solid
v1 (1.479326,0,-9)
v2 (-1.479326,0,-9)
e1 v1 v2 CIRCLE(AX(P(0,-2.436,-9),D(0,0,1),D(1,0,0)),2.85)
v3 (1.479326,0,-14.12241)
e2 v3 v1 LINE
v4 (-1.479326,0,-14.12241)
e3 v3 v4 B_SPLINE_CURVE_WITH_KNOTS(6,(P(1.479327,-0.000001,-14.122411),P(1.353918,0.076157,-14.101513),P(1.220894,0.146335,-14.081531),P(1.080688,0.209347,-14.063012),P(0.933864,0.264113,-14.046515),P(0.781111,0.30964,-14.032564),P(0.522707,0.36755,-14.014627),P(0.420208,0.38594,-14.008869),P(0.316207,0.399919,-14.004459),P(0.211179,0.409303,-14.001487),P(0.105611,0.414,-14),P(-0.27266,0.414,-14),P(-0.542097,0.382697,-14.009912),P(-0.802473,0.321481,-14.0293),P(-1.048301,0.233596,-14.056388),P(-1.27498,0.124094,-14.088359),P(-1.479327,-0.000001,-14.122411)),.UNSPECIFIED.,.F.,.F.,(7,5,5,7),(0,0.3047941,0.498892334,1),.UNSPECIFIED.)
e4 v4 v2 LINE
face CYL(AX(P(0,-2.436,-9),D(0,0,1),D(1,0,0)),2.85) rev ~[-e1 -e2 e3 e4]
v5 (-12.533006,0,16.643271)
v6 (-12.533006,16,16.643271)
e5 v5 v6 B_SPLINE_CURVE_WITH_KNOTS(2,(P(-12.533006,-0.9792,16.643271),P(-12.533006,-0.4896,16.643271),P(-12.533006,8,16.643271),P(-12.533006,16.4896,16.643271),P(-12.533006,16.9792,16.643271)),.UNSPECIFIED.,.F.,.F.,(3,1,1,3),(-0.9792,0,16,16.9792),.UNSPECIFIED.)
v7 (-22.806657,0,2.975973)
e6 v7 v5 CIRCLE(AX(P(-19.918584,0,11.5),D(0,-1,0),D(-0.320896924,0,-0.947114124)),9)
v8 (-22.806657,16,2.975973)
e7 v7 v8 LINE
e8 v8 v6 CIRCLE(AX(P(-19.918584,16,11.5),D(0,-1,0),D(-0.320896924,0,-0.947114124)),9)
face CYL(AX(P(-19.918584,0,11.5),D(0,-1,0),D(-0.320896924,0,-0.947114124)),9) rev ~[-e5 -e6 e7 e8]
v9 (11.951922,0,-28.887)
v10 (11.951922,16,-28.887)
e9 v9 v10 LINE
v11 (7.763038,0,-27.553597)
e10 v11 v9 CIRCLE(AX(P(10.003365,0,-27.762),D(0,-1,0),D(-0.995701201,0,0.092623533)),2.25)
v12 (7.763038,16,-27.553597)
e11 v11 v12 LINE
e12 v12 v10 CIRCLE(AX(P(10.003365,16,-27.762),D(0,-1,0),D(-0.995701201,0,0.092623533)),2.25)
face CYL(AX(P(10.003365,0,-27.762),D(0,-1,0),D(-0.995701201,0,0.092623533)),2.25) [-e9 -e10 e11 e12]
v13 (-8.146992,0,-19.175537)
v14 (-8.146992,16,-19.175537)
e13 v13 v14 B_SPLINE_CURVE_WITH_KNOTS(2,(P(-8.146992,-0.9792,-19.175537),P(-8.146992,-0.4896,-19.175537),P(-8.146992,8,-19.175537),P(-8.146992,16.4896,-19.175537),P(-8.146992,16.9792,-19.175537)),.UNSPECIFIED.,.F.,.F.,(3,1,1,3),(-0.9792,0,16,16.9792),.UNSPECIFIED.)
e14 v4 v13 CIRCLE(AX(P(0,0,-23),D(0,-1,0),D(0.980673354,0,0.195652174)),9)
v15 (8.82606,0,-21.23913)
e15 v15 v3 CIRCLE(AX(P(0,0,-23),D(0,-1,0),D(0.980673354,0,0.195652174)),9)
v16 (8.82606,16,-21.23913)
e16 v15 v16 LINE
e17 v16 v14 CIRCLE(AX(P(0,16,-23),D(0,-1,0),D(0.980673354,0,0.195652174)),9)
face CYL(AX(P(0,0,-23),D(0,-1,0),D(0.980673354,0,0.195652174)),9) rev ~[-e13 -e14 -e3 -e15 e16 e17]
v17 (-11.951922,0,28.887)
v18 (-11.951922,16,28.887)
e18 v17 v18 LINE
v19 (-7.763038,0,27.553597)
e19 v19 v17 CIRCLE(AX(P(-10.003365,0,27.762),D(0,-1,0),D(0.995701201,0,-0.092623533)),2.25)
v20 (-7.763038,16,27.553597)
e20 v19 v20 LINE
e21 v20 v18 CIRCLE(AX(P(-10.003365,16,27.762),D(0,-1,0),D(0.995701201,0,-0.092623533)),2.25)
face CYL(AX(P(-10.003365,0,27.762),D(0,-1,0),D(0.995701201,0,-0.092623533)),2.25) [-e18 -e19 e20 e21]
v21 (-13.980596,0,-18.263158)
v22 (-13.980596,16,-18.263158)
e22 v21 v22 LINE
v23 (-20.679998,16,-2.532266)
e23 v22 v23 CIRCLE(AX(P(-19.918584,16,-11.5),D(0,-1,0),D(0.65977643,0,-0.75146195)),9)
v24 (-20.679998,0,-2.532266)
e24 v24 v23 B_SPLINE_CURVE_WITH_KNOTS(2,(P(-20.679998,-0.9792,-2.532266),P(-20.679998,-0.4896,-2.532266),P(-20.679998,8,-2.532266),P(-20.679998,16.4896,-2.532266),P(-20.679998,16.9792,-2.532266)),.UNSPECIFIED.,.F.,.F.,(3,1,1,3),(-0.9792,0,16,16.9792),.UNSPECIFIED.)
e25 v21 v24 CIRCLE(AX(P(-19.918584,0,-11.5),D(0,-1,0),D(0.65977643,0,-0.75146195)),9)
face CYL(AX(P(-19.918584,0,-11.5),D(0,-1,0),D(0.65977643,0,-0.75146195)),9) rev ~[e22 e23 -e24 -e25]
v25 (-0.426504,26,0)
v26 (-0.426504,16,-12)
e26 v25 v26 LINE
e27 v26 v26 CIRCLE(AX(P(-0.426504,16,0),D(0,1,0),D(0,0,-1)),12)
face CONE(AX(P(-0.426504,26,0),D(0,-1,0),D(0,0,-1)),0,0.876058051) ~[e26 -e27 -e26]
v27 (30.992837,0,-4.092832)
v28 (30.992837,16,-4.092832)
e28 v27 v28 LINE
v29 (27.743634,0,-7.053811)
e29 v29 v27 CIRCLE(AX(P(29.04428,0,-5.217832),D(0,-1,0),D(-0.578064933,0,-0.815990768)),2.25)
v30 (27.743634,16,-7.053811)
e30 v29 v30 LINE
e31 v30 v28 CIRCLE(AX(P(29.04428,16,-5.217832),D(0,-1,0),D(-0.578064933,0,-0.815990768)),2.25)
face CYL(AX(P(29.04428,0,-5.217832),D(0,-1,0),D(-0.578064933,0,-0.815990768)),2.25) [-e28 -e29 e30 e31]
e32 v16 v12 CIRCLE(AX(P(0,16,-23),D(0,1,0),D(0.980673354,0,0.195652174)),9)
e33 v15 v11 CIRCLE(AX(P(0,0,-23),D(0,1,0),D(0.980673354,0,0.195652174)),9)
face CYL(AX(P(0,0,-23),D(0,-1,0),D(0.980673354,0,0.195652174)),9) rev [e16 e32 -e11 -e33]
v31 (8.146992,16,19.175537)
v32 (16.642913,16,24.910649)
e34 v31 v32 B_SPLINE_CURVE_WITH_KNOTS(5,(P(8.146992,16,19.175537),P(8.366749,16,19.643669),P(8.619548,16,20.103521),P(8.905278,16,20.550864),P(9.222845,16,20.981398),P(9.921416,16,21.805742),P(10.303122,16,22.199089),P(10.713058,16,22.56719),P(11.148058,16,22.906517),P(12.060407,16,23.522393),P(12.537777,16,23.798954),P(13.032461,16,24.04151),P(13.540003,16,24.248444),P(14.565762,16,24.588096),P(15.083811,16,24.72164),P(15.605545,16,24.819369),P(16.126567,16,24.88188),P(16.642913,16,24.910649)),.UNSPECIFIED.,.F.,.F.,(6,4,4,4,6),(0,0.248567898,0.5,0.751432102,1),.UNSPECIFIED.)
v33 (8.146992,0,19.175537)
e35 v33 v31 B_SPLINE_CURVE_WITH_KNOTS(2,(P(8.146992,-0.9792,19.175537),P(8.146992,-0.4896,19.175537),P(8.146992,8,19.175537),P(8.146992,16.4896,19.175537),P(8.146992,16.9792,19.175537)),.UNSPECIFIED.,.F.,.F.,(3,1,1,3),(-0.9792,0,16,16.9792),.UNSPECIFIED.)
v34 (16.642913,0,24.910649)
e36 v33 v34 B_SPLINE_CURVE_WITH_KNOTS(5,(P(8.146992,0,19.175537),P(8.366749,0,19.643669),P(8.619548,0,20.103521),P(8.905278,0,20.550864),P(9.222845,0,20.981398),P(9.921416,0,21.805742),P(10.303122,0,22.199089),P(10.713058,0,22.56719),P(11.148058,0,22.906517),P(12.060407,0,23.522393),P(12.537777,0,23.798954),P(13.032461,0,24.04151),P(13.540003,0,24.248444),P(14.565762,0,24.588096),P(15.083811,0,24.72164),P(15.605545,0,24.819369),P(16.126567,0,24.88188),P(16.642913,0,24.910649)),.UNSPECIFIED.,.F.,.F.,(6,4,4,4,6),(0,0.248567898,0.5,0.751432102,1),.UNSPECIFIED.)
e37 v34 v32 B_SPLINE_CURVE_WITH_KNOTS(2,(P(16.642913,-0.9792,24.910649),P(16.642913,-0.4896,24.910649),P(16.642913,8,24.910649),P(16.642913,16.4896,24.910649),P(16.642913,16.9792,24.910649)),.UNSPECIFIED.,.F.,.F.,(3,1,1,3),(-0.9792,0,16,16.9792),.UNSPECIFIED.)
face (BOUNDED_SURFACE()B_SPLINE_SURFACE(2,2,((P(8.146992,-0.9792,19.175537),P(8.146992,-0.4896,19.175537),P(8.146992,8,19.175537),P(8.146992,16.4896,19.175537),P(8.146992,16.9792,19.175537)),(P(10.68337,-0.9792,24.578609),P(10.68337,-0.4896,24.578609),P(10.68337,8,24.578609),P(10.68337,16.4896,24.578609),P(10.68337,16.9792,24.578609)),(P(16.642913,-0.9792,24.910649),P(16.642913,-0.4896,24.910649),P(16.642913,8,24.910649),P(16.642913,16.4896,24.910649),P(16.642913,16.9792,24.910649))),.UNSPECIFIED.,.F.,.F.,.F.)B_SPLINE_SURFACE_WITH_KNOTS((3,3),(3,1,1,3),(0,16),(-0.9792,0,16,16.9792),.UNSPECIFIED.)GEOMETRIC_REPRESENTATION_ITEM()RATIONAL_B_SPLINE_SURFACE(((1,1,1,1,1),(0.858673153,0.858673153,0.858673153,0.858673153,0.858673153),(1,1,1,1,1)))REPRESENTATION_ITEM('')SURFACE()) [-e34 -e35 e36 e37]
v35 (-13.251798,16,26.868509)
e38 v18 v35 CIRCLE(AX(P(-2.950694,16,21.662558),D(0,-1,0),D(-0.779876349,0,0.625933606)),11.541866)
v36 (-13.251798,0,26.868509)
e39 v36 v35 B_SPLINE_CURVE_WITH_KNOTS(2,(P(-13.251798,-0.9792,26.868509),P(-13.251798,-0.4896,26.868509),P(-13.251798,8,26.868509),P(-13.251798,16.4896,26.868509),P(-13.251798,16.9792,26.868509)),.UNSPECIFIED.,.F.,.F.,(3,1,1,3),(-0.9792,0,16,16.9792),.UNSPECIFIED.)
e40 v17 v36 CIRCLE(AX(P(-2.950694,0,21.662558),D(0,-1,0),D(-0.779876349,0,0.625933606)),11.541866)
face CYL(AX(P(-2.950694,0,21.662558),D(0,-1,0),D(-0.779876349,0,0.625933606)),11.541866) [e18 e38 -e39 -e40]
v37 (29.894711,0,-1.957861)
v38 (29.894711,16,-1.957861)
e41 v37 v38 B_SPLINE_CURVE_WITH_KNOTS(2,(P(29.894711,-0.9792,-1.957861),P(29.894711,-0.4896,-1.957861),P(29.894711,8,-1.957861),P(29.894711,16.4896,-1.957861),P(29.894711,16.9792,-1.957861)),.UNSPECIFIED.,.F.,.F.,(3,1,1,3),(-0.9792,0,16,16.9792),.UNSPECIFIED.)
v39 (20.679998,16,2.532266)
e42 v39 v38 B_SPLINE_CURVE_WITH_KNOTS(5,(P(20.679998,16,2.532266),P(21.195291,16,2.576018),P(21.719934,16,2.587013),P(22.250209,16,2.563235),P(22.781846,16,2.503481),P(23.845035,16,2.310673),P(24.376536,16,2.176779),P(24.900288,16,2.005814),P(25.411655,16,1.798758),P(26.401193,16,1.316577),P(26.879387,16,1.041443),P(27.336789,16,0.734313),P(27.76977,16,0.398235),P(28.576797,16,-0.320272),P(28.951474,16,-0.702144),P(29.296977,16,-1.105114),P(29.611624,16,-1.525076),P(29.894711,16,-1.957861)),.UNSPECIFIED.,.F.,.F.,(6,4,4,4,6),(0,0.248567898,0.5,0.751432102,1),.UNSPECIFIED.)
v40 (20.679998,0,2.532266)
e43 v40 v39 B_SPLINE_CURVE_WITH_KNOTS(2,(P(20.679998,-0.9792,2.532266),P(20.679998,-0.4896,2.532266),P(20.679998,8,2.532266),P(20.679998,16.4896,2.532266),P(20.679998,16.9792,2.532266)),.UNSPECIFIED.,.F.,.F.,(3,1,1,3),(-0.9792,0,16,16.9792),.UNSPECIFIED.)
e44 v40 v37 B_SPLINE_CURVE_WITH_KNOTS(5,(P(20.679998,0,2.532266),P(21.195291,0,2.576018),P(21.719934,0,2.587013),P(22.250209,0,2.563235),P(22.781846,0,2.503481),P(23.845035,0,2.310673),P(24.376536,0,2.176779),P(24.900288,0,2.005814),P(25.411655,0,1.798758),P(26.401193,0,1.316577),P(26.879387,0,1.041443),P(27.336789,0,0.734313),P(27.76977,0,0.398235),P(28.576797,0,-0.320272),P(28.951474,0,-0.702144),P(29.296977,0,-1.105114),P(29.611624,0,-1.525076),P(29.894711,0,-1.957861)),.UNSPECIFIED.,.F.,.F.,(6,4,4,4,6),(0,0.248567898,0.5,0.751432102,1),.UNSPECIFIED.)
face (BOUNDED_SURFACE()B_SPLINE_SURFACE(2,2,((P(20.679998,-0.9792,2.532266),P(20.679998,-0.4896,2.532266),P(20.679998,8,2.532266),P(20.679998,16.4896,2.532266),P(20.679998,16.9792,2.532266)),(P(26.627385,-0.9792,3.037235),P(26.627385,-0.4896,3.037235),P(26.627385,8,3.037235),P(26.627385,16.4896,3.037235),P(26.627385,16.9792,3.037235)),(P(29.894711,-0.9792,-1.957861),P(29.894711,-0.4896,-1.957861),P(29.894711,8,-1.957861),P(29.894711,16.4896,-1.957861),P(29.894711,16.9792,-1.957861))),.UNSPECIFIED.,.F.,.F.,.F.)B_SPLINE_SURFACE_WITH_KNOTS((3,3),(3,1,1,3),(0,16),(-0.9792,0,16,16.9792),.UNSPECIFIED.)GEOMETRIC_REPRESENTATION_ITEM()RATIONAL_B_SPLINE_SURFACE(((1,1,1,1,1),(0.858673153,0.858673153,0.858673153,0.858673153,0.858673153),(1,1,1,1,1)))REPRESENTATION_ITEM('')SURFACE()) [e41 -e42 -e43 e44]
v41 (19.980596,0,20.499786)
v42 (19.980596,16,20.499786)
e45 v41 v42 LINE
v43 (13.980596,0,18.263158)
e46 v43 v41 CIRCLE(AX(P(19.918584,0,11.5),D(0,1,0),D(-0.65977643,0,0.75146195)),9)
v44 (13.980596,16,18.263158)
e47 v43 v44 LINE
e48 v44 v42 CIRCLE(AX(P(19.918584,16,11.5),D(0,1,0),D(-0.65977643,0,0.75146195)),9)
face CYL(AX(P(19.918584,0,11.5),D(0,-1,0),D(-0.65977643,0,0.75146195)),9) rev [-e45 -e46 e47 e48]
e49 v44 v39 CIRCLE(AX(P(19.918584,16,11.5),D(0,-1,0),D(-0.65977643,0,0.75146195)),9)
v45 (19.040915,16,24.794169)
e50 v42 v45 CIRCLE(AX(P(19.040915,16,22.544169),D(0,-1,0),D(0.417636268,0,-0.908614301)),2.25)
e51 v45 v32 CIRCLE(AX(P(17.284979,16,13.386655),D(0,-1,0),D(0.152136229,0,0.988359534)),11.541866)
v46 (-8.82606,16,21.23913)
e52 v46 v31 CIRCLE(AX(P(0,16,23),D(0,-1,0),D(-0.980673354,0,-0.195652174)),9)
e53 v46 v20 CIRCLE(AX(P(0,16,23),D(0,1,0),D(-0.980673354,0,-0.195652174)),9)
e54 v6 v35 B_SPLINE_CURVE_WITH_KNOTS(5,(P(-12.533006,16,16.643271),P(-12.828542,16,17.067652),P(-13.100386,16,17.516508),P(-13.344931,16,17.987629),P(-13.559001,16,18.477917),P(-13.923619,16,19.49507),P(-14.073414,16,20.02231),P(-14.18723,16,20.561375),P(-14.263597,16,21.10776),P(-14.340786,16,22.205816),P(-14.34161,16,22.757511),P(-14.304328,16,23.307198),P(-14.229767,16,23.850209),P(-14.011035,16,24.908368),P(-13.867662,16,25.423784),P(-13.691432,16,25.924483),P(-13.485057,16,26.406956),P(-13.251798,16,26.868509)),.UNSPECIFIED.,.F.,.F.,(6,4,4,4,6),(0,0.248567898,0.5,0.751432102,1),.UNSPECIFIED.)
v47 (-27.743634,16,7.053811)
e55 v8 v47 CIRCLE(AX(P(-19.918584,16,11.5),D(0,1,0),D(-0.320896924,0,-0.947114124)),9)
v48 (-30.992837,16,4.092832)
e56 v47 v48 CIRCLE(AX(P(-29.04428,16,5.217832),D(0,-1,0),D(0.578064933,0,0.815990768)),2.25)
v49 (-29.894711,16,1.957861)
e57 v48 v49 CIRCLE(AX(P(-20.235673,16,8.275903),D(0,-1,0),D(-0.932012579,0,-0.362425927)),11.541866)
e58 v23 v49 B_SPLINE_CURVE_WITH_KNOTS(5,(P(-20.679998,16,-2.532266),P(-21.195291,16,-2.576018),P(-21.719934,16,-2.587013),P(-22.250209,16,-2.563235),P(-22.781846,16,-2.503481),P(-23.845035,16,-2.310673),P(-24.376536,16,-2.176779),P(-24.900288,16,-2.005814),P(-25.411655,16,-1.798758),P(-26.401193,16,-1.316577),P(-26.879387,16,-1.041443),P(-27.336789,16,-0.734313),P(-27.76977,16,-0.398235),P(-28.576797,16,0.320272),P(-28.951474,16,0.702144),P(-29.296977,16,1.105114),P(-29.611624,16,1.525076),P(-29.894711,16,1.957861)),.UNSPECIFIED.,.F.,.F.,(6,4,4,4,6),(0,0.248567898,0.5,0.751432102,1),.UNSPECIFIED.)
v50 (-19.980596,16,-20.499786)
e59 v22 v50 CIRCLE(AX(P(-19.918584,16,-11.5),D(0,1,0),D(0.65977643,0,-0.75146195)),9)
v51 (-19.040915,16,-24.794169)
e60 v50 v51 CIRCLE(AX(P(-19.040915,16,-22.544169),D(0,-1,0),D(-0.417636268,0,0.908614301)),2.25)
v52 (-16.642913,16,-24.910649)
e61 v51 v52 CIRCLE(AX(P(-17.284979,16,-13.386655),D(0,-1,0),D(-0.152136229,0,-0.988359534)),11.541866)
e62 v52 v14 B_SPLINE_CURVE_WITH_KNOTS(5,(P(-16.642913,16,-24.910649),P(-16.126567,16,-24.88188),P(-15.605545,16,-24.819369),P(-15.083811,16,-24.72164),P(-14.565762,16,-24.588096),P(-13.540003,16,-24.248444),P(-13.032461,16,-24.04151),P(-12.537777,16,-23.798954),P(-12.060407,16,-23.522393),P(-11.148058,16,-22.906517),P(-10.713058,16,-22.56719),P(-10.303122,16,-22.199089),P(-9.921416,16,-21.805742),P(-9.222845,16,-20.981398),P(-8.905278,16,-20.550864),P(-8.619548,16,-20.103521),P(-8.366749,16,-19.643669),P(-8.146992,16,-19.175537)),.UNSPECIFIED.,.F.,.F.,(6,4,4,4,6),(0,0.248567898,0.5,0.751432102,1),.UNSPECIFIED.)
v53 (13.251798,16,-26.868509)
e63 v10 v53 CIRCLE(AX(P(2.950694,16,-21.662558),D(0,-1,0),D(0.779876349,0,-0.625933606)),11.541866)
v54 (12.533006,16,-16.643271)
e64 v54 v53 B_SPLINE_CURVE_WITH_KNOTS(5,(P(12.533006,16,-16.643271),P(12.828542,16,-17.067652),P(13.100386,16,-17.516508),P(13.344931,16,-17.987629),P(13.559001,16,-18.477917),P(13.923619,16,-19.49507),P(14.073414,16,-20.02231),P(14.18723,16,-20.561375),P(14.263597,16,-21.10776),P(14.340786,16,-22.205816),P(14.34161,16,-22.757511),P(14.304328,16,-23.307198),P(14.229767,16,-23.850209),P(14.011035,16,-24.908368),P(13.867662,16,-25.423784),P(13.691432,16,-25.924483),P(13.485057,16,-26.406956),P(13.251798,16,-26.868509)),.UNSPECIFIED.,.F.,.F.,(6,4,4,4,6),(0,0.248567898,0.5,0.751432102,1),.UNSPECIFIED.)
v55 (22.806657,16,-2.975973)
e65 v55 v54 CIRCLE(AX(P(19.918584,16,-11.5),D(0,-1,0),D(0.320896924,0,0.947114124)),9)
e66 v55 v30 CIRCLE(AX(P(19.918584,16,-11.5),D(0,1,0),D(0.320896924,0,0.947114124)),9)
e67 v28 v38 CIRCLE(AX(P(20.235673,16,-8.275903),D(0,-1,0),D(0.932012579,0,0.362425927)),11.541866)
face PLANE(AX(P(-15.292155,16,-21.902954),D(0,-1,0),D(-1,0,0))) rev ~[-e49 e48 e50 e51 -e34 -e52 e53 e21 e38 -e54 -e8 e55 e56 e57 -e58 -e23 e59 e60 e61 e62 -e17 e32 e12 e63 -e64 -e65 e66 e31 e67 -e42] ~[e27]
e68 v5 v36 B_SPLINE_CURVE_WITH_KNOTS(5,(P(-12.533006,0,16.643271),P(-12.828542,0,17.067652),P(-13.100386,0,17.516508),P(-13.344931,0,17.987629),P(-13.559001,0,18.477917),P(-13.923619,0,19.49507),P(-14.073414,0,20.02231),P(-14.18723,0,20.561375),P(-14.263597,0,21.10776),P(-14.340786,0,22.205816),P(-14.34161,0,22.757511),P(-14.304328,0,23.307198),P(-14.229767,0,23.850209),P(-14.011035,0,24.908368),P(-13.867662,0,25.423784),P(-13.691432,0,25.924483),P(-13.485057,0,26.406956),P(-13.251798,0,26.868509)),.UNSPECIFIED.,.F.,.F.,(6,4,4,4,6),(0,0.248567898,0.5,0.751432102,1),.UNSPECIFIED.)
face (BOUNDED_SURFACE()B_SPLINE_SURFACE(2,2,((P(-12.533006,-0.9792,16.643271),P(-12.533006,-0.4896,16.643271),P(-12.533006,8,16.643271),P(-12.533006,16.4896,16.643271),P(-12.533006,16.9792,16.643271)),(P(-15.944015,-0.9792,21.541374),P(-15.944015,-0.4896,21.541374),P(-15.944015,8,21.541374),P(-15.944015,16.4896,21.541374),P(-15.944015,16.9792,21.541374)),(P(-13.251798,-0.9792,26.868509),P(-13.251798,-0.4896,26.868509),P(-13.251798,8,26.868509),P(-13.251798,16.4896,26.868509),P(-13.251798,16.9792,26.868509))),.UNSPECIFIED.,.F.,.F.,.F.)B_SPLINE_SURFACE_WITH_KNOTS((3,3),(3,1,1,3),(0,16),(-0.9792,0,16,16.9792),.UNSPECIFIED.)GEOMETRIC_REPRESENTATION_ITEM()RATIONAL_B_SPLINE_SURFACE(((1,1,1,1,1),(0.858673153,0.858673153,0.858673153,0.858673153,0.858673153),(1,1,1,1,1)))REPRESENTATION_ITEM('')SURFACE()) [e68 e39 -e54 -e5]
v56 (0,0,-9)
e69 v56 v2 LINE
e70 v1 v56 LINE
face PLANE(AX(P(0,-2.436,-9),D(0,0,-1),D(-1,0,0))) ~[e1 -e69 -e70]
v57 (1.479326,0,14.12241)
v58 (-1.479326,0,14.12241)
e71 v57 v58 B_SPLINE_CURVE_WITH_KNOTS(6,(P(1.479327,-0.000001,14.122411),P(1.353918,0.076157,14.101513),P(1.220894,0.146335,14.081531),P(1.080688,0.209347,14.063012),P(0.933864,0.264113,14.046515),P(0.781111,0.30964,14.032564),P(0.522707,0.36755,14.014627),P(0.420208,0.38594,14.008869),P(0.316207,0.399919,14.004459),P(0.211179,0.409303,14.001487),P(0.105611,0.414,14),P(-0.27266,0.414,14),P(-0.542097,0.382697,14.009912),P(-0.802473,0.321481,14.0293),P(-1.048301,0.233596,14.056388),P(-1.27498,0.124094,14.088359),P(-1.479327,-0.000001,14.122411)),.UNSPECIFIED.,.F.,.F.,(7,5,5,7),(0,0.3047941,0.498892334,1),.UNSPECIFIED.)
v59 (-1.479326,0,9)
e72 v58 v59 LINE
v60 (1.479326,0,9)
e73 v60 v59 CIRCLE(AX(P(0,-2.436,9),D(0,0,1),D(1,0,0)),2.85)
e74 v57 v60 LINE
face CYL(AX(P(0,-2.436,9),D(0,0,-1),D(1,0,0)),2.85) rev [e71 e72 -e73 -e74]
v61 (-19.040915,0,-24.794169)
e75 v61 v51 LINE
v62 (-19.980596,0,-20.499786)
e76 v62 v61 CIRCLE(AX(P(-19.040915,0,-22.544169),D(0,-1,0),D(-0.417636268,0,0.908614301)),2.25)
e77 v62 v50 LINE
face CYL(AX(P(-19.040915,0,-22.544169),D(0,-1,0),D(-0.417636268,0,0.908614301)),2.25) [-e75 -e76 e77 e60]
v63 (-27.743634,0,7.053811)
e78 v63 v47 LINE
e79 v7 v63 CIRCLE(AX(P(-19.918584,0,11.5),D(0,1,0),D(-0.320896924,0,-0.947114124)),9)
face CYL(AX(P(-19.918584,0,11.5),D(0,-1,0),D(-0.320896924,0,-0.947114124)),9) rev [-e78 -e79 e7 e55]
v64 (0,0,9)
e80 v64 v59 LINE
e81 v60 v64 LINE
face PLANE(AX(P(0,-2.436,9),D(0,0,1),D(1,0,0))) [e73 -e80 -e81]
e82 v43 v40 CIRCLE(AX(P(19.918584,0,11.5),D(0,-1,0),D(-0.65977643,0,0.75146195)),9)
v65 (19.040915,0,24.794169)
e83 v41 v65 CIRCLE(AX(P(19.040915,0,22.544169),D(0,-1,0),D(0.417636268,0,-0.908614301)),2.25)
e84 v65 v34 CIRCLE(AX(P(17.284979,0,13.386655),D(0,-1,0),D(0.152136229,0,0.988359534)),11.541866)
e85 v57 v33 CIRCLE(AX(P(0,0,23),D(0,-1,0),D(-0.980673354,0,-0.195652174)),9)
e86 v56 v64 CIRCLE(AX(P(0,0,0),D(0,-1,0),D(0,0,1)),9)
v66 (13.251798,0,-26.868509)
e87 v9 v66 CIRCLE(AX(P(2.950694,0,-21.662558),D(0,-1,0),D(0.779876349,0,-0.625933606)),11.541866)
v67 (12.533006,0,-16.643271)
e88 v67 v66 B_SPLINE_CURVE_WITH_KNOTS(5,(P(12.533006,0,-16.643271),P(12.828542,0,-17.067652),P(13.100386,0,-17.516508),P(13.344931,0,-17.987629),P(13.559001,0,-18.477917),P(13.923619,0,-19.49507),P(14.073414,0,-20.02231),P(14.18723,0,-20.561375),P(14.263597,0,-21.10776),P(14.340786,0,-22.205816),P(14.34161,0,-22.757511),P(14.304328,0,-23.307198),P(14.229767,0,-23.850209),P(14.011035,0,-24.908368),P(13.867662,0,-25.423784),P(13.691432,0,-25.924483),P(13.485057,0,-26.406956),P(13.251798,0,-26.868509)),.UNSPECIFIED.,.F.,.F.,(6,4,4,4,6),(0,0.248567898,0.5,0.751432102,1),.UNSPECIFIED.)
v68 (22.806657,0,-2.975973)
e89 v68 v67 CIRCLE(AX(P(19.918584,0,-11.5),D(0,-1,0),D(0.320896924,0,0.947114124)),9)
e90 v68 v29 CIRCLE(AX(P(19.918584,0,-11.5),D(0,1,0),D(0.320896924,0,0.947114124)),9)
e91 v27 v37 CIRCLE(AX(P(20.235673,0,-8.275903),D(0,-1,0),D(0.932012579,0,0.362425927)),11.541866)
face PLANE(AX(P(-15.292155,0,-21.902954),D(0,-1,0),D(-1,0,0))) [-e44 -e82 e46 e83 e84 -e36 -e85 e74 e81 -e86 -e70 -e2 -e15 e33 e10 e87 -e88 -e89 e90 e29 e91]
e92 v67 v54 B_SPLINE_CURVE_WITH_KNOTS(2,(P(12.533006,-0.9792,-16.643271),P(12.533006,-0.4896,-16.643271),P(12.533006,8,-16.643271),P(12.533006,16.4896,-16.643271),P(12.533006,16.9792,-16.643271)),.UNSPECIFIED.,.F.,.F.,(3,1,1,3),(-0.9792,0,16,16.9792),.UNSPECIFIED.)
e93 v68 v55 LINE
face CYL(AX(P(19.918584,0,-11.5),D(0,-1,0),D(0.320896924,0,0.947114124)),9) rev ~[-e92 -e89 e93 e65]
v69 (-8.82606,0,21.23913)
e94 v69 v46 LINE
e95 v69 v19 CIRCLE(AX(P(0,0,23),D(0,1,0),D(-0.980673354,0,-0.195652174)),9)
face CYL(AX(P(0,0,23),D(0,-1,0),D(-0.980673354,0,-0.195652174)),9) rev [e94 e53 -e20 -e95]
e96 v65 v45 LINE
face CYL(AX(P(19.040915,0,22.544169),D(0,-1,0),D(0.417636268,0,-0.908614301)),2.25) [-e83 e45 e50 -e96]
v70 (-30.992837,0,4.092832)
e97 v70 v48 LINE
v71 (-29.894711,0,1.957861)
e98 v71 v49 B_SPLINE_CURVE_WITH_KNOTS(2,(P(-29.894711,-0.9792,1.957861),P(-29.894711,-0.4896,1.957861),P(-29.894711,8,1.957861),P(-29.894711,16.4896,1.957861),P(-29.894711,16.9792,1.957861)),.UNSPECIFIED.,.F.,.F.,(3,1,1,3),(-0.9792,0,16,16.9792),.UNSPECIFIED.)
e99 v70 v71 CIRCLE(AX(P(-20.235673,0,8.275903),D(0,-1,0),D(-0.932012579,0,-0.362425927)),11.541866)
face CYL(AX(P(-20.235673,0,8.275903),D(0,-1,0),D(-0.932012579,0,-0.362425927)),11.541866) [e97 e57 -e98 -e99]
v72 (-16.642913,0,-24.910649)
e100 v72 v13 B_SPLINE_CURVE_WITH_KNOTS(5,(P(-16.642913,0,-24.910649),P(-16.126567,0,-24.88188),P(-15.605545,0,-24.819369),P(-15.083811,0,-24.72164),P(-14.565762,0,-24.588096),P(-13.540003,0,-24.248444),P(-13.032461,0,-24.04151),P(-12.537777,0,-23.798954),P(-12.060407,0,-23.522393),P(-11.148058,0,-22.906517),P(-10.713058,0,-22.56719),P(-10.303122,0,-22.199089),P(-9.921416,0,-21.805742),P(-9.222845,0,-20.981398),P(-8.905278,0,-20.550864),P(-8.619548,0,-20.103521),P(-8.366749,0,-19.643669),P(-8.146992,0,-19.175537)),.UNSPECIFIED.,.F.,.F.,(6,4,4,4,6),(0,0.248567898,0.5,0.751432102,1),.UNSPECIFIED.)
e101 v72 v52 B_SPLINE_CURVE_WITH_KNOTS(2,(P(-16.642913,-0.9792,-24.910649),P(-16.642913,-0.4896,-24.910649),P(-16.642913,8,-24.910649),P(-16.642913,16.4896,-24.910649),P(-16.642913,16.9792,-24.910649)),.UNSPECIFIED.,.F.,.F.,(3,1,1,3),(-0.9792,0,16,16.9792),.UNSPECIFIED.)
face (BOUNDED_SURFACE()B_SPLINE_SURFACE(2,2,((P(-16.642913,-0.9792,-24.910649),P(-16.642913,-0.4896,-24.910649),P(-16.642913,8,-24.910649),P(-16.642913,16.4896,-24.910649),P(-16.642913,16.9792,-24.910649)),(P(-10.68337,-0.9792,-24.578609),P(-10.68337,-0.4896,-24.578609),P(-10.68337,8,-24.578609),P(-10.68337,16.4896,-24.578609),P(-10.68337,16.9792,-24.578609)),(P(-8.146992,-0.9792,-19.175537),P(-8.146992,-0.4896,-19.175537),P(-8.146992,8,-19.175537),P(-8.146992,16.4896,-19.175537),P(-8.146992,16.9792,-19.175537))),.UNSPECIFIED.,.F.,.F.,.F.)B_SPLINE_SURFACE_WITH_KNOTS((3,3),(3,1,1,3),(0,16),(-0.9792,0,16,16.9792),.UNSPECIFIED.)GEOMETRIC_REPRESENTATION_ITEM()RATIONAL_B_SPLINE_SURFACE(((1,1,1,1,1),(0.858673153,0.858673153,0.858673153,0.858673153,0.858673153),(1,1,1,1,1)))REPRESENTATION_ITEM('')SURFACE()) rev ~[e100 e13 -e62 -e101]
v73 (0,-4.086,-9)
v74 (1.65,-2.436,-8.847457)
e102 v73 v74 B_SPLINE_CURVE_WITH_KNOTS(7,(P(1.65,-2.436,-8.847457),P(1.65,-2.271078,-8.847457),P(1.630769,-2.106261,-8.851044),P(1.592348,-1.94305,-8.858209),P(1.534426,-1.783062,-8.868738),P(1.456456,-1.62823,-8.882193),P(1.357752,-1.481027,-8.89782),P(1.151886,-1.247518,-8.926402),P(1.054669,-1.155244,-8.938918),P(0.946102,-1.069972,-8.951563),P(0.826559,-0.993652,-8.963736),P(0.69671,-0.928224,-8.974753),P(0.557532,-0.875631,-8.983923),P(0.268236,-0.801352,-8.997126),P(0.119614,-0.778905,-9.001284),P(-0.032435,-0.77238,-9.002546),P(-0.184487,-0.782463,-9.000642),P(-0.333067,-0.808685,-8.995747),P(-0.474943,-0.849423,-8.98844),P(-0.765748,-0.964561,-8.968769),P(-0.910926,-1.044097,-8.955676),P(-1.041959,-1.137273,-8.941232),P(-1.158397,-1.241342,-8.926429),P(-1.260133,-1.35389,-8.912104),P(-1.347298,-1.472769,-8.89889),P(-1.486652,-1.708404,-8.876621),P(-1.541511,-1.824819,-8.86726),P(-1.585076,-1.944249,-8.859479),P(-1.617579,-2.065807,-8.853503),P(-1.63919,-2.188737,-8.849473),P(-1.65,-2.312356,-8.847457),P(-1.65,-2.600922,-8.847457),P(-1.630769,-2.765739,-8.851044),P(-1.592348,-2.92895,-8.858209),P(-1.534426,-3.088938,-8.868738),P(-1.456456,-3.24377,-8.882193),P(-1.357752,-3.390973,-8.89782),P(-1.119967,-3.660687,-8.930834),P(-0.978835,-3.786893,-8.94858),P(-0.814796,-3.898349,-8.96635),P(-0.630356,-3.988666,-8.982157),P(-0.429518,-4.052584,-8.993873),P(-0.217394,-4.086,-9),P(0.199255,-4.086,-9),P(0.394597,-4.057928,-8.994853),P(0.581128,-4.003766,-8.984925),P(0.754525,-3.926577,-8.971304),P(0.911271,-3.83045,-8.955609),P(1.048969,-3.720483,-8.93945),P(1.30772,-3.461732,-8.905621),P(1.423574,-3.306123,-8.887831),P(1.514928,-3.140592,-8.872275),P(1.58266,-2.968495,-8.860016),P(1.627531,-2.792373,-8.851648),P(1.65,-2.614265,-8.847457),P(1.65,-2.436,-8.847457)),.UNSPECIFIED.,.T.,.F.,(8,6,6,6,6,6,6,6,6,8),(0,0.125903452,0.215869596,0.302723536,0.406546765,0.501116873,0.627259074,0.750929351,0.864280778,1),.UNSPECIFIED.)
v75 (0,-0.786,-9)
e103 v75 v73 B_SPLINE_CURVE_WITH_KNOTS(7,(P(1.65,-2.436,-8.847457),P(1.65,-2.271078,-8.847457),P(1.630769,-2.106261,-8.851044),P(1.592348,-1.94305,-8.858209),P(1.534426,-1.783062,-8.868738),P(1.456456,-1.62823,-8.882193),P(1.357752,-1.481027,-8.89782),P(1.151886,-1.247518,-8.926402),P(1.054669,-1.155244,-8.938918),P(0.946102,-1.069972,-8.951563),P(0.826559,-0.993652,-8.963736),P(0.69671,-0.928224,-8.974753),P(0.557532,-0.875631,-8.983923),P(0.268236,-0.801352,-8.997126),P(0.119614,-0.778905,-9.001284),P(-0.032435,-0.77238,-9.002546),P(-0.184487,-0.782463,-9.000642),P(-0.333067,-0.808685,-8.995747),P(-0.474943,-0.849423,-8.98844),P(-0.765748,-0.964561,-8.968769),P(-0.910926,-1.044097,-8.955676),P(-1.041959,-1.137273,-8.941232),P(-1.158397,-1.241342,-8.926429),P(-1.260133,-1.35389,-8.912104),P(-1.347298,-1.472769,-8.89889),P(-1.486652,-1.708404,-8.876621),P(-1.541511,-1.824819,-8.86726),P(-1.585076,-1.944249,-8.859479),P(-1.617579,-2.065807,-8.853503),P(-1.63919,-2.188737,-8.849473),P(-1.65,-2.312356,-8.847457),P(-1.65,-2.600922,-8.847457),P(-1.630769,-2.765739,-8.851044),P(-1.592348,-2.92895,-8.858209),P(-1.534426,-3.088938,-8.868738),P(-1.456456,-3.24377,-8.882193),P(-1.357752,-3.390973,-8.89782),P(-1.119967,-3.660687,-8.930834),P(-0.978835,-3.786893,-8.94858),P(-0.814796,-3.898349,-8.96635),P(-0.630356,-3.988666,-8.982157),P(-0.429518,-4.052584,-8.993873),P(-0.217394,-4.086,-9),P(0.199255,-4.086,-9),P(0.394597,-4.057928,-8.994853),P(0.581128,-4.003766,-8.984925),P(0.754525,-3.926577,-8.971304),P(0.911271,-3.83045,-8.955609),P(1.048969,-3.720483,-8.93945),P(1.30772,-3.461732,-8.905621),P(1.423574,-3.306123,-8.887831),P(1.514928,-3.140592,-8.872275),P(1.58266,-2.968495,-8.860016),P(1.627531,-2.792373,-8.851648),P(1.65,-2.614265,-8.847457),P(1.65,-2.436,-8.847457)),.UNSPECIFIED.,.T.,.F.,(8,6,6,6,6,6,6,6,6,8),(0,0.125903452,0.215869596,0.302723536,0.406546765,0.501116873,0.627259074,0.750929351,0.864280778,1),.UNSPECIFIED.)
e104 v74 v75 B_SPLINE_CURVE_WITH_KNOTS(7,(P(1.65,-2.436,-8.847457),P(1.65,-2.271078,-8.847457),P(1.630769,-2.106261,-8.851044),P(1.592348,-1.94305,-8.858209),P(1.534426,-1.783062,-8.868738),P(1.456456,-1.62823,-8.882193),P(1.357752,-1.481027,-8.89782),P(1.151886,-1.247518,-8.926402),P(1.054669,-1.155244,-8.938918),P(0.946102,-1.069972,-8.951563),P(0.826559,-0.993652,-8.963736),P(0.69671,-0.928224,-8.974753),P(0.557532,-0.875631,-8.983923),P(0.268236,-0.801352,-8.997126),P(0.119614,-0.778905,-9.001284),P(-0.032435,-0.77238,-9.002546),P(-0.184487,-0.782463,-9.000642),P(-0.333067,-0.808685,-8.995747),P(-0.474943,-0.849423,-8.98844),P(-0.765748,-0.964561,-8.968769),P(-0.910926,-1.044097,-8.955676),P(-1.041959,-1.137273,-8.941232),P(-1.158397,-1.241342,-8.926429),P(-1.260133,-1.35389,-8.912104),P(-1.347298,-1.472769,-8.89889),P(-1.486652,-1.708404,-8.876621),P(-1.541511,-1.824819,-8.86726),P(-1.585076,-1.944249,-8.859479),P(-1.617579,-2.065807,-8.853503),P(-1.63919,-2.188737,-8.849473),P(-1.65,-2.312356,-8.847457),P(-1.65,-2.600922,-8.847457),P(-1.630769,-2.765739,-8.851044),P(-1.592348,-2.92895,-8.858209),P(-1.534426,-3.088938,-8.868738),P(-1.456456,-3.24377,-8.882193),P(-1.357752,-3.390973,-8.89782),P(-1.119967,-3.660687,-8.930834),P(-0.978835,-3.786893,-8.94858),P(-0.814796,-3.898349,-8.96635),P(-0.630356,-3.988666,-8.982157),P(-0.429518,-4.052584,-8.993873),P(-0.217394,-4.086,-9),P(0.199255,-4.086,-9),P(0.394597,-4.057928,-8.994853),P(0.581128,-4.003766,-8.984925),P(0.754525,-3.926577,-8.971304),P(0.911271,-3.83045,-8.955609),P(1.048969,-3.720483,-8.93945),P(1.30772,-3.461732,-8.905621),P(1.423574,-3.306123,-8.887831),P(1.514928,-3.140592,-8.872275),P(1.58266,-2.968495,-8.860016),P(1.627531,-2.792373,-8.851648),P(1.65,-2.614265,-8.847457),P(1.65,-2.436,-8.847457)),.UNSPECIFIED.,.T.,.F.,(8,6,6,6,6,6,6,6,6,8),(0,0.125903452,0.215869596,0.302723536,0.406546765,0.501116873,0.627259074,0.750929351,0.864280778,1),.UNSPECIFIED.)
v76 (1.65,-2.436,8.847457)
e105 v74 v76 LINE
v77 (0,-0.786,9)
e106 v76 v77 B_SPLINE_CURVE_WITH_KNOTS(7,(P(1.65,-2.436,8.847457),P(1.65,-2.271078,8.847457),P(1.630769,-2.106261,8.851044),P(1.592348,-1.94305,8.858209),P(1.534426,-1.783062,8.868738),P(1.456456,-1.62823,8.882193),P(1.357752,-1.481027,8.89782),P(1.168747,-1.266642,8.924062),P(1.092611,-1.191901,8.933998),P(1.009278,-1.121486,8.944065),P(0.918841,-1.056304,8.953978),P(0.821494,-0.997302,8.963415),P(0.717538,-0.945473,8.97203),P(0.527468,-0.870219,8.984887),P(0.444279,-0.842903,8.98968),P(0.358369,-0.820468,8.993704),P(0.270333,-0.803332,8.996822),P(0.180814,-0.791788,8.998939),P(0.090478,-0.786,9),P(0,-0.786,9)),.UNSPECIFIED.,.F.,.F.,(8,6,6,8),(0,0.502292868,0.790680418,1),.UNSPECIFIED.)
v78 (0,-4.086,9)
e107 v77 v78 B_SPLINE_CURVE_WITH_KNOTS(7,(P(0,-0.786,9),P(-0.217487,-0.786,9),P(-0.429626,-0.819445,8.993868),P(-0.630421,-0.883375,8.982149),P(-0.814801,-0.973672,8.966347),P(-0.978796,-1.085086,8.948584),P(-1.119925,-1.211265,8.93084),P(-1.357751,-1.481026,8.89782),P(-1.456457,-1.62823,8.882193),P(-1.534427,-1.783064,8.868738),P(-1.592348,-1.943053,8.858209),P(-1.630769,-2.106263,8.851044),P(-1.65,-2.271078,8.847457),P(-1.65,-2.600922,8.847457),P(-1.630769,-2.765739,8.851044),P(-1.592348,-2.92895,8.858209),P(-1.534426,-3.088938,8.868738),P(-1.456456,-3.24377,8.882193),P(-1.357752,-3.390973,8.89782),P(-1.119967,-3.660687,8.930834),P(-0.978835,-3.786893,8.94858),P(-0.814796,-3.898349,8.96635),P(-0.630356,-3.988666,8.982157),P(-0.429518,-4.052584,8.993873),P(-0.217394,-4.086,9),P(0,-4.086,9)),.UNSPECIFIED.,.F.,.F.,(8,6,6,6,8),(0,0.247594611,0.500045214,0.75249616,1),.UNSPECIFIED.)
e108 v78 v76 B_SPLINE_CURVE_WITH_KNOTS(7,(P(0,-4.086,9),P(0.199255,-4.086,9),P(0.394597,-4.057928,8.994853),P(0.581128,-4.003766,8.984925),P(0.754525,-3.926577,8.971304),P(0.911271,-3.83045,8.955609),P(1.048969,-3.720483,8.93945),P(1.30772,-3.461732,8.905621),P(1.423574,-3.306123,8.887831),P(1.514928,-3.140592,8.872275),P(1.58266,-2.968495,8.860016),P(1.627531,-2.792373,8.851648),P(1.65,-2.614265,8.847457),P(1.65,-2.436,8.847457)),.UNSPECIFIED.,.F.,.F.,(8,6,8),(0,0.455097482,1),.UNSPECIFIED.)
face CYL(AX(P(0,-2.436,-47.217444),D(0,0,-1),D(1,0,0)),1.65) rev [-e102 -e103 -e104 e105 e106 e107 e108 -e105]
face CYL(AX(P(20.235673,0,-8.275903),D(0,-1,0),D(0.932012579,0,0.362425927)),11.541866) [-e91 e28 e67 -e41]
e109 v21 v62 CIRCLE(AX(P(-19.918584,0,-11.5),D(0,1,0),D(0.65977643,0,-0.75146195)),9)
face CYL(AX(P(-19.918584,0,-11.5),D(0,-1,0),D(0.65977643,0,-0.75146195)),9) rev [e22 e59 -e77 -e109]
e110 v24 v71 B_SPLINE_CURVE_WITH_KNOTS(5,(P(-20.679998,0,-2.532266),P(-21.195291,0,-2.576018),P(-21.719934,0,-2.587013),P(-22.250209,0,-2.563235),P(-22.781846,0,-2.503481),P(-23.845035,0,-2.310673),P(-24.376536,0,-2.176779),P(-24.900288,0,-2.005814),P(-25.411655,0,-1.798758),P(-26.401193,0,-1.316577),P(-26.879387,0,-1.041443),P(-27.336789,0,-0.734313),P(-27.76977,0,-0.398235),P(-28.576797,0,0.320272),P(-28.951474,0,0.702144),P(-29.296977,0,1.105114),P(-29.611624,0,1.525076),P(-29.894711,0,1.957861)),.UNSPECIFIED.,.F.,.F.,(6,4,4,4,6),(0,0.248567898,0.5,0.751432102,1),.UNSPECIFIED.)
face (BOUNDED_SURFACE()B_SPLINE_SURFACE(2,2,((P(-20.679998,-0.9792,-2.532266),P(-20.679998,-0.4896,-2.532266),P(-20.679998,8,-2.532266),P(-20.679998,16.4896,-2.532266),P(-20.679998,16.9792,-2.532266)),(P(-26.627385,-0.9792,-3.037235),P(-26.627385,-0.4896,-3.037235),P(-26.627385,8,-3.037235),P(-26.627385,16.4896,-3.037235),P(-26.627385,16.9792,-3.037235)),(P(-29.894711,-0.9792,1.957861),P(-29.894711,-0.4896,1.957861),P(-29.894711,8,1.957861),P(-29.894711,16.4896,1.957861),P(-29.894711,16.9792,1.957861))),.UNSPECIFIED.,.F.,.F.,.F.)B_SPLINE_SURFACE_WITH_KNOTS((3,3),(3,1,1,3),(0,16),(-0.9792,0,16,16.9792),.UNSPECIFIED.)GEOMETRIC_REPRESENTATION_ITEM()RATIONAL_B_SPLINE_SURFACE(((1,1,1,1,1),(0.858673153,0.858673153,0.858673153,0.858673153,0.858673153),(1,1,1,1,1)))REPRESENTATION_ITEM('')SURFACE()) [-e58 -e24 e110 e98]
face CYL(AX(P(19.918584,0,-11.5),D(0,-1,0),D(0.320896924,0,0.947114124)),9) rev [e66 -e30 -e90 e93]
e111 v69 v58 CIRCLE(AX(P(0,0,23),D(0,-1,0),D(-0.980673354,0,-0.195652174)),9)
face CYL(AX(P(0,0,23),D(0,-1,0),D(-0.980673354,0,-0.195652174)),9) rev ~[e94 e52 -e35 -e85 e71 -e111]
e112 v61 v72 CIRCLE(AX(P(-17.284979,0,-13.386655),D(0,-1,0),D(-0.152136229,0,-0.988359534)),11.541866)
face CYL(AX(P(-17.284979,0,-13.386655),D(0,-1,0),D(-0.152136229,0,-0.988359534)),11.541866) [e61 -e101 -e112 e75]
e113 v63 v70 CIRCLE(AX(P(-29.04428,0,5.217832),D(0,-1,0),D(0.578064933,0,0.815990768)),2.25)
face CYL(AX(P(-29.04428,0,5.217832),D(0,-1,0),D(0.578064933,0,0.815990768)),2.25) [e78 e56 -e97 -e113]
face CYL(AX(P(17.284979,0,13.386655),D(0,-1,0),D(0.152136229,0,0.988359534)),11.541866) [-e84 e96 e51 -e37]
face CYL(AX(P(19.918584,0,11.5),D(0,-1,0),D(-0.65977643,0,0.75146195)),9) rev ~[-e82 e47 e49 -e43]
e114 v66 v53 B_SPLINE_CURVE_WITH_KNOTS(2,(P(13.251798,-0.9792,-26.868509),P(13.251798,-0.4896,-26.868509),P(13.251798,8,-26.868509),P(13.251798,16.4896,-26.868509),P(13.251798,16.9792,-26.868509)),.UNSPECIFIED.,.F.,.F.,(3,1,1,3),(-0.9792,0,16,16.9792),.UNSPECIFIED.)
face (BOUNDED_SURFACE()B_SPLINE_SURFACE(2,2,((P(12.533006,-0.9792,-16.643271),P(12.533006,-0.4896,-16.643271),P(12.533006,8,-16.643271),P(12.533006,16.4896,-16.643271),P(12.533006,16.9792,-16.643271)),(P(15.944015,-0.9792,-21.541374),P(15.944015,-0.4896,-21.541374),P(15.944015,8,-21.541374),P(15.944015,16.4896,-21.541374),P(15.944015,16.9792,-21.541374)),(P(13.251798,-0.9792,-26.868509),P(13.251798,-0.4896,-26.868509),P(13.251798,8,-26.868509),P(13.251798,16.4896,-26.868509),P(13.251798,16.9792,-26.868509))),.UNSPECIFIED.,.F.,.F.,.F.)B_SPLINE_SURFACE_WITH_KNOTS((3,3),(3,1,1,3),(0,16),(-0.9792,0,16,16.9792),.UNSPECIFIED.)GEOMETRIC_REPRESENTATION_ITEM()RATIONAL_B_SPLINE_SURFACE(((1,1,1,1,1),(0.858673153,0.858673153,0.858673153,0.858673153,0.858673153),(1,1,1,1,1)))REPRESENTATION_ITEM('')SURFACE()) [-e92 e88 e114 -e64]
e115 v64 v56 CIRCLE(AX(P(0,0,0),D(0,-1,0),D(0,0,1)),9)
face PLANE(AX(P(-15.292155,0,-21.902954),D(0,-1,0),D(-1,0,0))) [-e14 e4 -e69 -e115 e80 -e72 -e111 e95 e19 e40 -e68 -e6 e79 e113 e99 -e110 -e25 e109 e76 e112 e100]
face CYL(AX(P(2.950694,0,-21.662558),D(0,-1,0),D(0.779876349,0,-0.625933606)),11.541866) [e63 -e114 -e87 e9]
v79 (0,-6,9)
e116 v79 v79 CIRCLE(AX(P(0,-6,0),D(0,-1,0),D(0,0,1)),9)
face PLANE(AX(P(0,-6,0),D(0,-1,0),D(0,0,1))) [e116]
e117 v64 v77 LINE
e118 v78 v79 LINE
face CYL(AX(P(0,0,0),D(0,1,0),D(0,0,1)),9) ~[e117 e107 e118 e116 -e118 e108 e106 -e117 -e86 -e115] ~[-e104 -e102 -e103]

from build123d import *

# Parameters (mm, degrees)
BOSS_EXTRUDE1_DEPTH     = 16
BOSS_EXTRUDE2_START     = -16
BOSS_EXTRUDE2_DEPTH     = 16
FILLET1_R               = 10
SKETCH3_R               = 9
BOSS_EXTRUDE3_DEPTH     = 6
CUT_EXTRUDE1_DEPTH      = 47.217444076
CUT_EXTRUDE1_DEPTH_BACK = 47.217444076
SKETCH5_R               = 1.65
SKETCH10_R              = 2.85
CUT_EXTRUDE4_DEPTH      = 57.367261237


with BuildPart() as part:
    # Sketch1 → Boss-Extrude1 (new body)
    with BuildSketch(Plane(origin=(0, 0, 0), x_dir=(1, 0, 0), z_dir=(0, 1, 0))):
        with BuildLine():
            ThreePointArc((-22.806656603, 2.975972883), (-23, 0), (-22.806656603, -2.975972883))
            ThreePointArc((-22.806656603, -2.975972883), (-12.124355653, -7), (-13.980596419, -18.263157552))
            ThreePointArc((-13.980596419, -18.263157552), (-11.5, -19.918584287), (-8.826060184, -21.239130435))
            ThreePointArc((-8.826060184, -21.239130435), (0, -14), (8.826060184, -21.239130435))
            ThreePointArc((8.826060184, -21.239130435), (11.5, -19.918584287), (13.980596419, -18.263157552))
            ThreePointArc((13.980596419, -18.263157552), (12.124355653, -7), (22.806656603, -2.975972883))
            ThreePointArc((22.806656603, -2.975972883), (23, 0), (22.806656603, 2.975972883))
            ThreePointArc((22.806656603, 2.975972883), (12.124355653, 7), (13.980596419, 18.263157552))
            ThreePointArc((13.980596419, 18.263157552), (11.5, 19.918584287), (8.826060184, 21.239130435))
            ThreePointArc((8.826060184, 21.239130435), (0, 14), (-8.826060184, 21.239130435))
            ThreePointArc((-8.826060184, 21.239130435), (-11.5, 19.918584287), (-13.980596419, 18.263157552))
            ThreePointArc((-13.980596419, 18.263157552), (-12.124355653, 7), (-22.806656603, 2.975972883))
        make_face()
    extrude(amount=BOSS_EXTRUDE1_DEPTH)

    # Sketch2 → Boss-Extrude2 (add)
    with BuildSketch(Plane(origin=(0, 16, 0), x_dir=(1, 0, 0), z_dir=(0, 1, 0)).offset(BOSS_EXTRUDE2_START)):
        with BuildLine():
            ThreePointArc((-13.980596419, 18.263157552), (-16.774955839, 19.933125173), (-19.980596419, 20.499786358))
            ThreePointArc((-19.980596419, 20.499786358), (-21.238909345, 23.025125967), (-19.040914816, 24.794168535))
            ThreePointArc((-19.040914816, 24.794168535), (-13.4912909, 24.287233332), (-8.826060184, 21.239130435))
            ThreePointArc((-8.826060184, 21.239130435), (-11.5, 19.918584287), (-13.980596419, 18.263157552))
        make_face()
        with BuildLine():
            ThreePointArc((13.980596419, 18.263157552), (11.5, 19.918584287), (8.826060184, 21.239130435))
            ThreePointArc((8.826060184, 21.239130435), (8.875114857, 24.494100491), (7.763037549, 27.553597261))
            ThreePointArc((7.763037549, 27.553597261), (9.32088934, 29.905998025), (11.951922409, 28.88700021))
            ThreePointArc((11.951922409, 28.88700021), (14.287715603, 23.827417316), (13.980596419, 18.263157552))
        make_face()
        with BuildLine():
            ThreePointArc((22.806656603, -2.975972883), (23, 0), (22.806656603, 2.975972883))
            ThreePointArc((22.806656603, 2.975972883), (25.650070696, 4.560975318), (27.743633968, 7.053810902))
            ThreePointArc((27.743633968, 7.053810902), (30.559798685, 6.880872058), (30.992837225, 4.092831674))
            ThreePointArc((30.992837225, 4.092831674), (27.779006503, -0.459816017), (22.806656603, -2.975972883))
        make_face()
        with BuildLine():
            ThreePointArc((8.826060184, -21.239130435), (11.5, -19.918584287), (13.980596419, -18.263157552))
            ThreePointArc((13.980596419, -18.263157552), (16.774955839, -19.933125173), (19.980596419, -20.499786358))
            ThreePointArc((19.980596419, -20.499786358), (21.238909345, -23.025125967), (19.040914816, -24.794168535))
            ThreePointArc((19.040914816, -24.794168535), (13.4912909, -24.287233332), (8.826060184, -21.239130435))
        make_face()
        with BuildLine():
            ThreePointArc((-13.980596419, -18.263157552), (-11.5, -19.918584287), (-8.826060184, -21.239130435))
            ThreePointArc((-8.826060184, -21.239130435), (-8.875114857, -24.494100491), (-7.763037549, -27.553597261))
            ThreePointArc((-7.763037549, -27.553597261), (-9.32088934, -29.905998025), (-11.951922409, -28.88700021))
            ThreePointArc((-11.951922409, -28.88700021), (-14.287715603, -23.827417316), (-13.980596419, -18.263157552))
        make_face()
        with BuildLine():
            ThreePointArc((-22.806656603, 2.975972883), (-23, 0), (-22.806656603, -2.975972883))
            ThreePointArc((-22.806656603, -2.975972883), (-25.650070696, -4.560975318), (-27.743633968, -7.053810902))
            ThreePointArc((-27.743633968, -7.053810902), (-30.559798685, -6.880872058), (-30.992837225, -4.092831674))
            ThreePointArc((-30.992837225, -4.092831674), (-27.779006503, 0.459816017), (-22.806656603, 2.975972883))
        make_face()
    extrude(amount=BOSS_EXTRUDE2_DEPTH)

    # Fillet1
    fillet1_edges = [part.edges().sort_by_distance(p)[0] for p in [
        (13.980596419, 8, -18.263157552),
        (22.806656603, 8, 2.975972883),
        (8.826060184, 8, 21.239130435),
        (-13.980596419, 8, 18.263157552),
        (-22.806656603, 8, -2.975972883),
        (-8.826060184, 8, -21.239130435),
    ]]
    fillet(fillet1_edges, radius=FILLET1_R)

    # Sketch3 → Boss-Extrude3 (add)
    with BuildSketch(Plane.XZ):
        with Locations(Location((0, 0, 0), (0, 0, 90))):
            Circle(SKETCH3_R)
    extrude(amount=BOSS_EXTRUDE3_DEPTH)

    # Sketch5 → Cut-Extrude1 (cut, two sides: drawn at the far end of the back side and taken through both)
    with BuildSketch(Plane.XY.offset(-CUT_EXTRUDE1_DEPTH_BACK)):
        with Locations((0, -2.436)):
            Circle(SKETCH5_R)
    extrude(amount=CUT_EXTRUDE1_DEPTH + CUT_EXTRUDE1_DEPTH_BACK, mode=Mode.SUBTRACT)

    # Sketch6 → Revolve1 (revolve)
    with BuildSketch(Plane.XY, mode=Mode.PRIVATE) as revolve1_sk:
        Polygon((-0.426503876, 16), (-0.426503876, 26), (11.573496124, 16), align=None)
    revolve(revolve1_sk.sketch.rotate(Axis((-0.426503876, 16, 0), (0, 1, 0)), 90), axis=Axis((-0.426503876, 16, 0), (0, 1, 0)))

    # Sketch10 → Cut-Extrude4 (cut, through all)
    with BuildSketch(Plane.XY.offset(9)):
        with Locations((0, -2.436)):
            Circle(SKETCH10_R)
    cut_extrude4 = extrude(amount=CUT_EXTRUDE4_DEPTH, mode=Mode.SUBTRACT)

    # Mirror1: Cut-Extrude4 across plane
    add(cut_extrude4.mirror(Plane.XY), mode=Mode.SUBTRACT)


solid = part.part
